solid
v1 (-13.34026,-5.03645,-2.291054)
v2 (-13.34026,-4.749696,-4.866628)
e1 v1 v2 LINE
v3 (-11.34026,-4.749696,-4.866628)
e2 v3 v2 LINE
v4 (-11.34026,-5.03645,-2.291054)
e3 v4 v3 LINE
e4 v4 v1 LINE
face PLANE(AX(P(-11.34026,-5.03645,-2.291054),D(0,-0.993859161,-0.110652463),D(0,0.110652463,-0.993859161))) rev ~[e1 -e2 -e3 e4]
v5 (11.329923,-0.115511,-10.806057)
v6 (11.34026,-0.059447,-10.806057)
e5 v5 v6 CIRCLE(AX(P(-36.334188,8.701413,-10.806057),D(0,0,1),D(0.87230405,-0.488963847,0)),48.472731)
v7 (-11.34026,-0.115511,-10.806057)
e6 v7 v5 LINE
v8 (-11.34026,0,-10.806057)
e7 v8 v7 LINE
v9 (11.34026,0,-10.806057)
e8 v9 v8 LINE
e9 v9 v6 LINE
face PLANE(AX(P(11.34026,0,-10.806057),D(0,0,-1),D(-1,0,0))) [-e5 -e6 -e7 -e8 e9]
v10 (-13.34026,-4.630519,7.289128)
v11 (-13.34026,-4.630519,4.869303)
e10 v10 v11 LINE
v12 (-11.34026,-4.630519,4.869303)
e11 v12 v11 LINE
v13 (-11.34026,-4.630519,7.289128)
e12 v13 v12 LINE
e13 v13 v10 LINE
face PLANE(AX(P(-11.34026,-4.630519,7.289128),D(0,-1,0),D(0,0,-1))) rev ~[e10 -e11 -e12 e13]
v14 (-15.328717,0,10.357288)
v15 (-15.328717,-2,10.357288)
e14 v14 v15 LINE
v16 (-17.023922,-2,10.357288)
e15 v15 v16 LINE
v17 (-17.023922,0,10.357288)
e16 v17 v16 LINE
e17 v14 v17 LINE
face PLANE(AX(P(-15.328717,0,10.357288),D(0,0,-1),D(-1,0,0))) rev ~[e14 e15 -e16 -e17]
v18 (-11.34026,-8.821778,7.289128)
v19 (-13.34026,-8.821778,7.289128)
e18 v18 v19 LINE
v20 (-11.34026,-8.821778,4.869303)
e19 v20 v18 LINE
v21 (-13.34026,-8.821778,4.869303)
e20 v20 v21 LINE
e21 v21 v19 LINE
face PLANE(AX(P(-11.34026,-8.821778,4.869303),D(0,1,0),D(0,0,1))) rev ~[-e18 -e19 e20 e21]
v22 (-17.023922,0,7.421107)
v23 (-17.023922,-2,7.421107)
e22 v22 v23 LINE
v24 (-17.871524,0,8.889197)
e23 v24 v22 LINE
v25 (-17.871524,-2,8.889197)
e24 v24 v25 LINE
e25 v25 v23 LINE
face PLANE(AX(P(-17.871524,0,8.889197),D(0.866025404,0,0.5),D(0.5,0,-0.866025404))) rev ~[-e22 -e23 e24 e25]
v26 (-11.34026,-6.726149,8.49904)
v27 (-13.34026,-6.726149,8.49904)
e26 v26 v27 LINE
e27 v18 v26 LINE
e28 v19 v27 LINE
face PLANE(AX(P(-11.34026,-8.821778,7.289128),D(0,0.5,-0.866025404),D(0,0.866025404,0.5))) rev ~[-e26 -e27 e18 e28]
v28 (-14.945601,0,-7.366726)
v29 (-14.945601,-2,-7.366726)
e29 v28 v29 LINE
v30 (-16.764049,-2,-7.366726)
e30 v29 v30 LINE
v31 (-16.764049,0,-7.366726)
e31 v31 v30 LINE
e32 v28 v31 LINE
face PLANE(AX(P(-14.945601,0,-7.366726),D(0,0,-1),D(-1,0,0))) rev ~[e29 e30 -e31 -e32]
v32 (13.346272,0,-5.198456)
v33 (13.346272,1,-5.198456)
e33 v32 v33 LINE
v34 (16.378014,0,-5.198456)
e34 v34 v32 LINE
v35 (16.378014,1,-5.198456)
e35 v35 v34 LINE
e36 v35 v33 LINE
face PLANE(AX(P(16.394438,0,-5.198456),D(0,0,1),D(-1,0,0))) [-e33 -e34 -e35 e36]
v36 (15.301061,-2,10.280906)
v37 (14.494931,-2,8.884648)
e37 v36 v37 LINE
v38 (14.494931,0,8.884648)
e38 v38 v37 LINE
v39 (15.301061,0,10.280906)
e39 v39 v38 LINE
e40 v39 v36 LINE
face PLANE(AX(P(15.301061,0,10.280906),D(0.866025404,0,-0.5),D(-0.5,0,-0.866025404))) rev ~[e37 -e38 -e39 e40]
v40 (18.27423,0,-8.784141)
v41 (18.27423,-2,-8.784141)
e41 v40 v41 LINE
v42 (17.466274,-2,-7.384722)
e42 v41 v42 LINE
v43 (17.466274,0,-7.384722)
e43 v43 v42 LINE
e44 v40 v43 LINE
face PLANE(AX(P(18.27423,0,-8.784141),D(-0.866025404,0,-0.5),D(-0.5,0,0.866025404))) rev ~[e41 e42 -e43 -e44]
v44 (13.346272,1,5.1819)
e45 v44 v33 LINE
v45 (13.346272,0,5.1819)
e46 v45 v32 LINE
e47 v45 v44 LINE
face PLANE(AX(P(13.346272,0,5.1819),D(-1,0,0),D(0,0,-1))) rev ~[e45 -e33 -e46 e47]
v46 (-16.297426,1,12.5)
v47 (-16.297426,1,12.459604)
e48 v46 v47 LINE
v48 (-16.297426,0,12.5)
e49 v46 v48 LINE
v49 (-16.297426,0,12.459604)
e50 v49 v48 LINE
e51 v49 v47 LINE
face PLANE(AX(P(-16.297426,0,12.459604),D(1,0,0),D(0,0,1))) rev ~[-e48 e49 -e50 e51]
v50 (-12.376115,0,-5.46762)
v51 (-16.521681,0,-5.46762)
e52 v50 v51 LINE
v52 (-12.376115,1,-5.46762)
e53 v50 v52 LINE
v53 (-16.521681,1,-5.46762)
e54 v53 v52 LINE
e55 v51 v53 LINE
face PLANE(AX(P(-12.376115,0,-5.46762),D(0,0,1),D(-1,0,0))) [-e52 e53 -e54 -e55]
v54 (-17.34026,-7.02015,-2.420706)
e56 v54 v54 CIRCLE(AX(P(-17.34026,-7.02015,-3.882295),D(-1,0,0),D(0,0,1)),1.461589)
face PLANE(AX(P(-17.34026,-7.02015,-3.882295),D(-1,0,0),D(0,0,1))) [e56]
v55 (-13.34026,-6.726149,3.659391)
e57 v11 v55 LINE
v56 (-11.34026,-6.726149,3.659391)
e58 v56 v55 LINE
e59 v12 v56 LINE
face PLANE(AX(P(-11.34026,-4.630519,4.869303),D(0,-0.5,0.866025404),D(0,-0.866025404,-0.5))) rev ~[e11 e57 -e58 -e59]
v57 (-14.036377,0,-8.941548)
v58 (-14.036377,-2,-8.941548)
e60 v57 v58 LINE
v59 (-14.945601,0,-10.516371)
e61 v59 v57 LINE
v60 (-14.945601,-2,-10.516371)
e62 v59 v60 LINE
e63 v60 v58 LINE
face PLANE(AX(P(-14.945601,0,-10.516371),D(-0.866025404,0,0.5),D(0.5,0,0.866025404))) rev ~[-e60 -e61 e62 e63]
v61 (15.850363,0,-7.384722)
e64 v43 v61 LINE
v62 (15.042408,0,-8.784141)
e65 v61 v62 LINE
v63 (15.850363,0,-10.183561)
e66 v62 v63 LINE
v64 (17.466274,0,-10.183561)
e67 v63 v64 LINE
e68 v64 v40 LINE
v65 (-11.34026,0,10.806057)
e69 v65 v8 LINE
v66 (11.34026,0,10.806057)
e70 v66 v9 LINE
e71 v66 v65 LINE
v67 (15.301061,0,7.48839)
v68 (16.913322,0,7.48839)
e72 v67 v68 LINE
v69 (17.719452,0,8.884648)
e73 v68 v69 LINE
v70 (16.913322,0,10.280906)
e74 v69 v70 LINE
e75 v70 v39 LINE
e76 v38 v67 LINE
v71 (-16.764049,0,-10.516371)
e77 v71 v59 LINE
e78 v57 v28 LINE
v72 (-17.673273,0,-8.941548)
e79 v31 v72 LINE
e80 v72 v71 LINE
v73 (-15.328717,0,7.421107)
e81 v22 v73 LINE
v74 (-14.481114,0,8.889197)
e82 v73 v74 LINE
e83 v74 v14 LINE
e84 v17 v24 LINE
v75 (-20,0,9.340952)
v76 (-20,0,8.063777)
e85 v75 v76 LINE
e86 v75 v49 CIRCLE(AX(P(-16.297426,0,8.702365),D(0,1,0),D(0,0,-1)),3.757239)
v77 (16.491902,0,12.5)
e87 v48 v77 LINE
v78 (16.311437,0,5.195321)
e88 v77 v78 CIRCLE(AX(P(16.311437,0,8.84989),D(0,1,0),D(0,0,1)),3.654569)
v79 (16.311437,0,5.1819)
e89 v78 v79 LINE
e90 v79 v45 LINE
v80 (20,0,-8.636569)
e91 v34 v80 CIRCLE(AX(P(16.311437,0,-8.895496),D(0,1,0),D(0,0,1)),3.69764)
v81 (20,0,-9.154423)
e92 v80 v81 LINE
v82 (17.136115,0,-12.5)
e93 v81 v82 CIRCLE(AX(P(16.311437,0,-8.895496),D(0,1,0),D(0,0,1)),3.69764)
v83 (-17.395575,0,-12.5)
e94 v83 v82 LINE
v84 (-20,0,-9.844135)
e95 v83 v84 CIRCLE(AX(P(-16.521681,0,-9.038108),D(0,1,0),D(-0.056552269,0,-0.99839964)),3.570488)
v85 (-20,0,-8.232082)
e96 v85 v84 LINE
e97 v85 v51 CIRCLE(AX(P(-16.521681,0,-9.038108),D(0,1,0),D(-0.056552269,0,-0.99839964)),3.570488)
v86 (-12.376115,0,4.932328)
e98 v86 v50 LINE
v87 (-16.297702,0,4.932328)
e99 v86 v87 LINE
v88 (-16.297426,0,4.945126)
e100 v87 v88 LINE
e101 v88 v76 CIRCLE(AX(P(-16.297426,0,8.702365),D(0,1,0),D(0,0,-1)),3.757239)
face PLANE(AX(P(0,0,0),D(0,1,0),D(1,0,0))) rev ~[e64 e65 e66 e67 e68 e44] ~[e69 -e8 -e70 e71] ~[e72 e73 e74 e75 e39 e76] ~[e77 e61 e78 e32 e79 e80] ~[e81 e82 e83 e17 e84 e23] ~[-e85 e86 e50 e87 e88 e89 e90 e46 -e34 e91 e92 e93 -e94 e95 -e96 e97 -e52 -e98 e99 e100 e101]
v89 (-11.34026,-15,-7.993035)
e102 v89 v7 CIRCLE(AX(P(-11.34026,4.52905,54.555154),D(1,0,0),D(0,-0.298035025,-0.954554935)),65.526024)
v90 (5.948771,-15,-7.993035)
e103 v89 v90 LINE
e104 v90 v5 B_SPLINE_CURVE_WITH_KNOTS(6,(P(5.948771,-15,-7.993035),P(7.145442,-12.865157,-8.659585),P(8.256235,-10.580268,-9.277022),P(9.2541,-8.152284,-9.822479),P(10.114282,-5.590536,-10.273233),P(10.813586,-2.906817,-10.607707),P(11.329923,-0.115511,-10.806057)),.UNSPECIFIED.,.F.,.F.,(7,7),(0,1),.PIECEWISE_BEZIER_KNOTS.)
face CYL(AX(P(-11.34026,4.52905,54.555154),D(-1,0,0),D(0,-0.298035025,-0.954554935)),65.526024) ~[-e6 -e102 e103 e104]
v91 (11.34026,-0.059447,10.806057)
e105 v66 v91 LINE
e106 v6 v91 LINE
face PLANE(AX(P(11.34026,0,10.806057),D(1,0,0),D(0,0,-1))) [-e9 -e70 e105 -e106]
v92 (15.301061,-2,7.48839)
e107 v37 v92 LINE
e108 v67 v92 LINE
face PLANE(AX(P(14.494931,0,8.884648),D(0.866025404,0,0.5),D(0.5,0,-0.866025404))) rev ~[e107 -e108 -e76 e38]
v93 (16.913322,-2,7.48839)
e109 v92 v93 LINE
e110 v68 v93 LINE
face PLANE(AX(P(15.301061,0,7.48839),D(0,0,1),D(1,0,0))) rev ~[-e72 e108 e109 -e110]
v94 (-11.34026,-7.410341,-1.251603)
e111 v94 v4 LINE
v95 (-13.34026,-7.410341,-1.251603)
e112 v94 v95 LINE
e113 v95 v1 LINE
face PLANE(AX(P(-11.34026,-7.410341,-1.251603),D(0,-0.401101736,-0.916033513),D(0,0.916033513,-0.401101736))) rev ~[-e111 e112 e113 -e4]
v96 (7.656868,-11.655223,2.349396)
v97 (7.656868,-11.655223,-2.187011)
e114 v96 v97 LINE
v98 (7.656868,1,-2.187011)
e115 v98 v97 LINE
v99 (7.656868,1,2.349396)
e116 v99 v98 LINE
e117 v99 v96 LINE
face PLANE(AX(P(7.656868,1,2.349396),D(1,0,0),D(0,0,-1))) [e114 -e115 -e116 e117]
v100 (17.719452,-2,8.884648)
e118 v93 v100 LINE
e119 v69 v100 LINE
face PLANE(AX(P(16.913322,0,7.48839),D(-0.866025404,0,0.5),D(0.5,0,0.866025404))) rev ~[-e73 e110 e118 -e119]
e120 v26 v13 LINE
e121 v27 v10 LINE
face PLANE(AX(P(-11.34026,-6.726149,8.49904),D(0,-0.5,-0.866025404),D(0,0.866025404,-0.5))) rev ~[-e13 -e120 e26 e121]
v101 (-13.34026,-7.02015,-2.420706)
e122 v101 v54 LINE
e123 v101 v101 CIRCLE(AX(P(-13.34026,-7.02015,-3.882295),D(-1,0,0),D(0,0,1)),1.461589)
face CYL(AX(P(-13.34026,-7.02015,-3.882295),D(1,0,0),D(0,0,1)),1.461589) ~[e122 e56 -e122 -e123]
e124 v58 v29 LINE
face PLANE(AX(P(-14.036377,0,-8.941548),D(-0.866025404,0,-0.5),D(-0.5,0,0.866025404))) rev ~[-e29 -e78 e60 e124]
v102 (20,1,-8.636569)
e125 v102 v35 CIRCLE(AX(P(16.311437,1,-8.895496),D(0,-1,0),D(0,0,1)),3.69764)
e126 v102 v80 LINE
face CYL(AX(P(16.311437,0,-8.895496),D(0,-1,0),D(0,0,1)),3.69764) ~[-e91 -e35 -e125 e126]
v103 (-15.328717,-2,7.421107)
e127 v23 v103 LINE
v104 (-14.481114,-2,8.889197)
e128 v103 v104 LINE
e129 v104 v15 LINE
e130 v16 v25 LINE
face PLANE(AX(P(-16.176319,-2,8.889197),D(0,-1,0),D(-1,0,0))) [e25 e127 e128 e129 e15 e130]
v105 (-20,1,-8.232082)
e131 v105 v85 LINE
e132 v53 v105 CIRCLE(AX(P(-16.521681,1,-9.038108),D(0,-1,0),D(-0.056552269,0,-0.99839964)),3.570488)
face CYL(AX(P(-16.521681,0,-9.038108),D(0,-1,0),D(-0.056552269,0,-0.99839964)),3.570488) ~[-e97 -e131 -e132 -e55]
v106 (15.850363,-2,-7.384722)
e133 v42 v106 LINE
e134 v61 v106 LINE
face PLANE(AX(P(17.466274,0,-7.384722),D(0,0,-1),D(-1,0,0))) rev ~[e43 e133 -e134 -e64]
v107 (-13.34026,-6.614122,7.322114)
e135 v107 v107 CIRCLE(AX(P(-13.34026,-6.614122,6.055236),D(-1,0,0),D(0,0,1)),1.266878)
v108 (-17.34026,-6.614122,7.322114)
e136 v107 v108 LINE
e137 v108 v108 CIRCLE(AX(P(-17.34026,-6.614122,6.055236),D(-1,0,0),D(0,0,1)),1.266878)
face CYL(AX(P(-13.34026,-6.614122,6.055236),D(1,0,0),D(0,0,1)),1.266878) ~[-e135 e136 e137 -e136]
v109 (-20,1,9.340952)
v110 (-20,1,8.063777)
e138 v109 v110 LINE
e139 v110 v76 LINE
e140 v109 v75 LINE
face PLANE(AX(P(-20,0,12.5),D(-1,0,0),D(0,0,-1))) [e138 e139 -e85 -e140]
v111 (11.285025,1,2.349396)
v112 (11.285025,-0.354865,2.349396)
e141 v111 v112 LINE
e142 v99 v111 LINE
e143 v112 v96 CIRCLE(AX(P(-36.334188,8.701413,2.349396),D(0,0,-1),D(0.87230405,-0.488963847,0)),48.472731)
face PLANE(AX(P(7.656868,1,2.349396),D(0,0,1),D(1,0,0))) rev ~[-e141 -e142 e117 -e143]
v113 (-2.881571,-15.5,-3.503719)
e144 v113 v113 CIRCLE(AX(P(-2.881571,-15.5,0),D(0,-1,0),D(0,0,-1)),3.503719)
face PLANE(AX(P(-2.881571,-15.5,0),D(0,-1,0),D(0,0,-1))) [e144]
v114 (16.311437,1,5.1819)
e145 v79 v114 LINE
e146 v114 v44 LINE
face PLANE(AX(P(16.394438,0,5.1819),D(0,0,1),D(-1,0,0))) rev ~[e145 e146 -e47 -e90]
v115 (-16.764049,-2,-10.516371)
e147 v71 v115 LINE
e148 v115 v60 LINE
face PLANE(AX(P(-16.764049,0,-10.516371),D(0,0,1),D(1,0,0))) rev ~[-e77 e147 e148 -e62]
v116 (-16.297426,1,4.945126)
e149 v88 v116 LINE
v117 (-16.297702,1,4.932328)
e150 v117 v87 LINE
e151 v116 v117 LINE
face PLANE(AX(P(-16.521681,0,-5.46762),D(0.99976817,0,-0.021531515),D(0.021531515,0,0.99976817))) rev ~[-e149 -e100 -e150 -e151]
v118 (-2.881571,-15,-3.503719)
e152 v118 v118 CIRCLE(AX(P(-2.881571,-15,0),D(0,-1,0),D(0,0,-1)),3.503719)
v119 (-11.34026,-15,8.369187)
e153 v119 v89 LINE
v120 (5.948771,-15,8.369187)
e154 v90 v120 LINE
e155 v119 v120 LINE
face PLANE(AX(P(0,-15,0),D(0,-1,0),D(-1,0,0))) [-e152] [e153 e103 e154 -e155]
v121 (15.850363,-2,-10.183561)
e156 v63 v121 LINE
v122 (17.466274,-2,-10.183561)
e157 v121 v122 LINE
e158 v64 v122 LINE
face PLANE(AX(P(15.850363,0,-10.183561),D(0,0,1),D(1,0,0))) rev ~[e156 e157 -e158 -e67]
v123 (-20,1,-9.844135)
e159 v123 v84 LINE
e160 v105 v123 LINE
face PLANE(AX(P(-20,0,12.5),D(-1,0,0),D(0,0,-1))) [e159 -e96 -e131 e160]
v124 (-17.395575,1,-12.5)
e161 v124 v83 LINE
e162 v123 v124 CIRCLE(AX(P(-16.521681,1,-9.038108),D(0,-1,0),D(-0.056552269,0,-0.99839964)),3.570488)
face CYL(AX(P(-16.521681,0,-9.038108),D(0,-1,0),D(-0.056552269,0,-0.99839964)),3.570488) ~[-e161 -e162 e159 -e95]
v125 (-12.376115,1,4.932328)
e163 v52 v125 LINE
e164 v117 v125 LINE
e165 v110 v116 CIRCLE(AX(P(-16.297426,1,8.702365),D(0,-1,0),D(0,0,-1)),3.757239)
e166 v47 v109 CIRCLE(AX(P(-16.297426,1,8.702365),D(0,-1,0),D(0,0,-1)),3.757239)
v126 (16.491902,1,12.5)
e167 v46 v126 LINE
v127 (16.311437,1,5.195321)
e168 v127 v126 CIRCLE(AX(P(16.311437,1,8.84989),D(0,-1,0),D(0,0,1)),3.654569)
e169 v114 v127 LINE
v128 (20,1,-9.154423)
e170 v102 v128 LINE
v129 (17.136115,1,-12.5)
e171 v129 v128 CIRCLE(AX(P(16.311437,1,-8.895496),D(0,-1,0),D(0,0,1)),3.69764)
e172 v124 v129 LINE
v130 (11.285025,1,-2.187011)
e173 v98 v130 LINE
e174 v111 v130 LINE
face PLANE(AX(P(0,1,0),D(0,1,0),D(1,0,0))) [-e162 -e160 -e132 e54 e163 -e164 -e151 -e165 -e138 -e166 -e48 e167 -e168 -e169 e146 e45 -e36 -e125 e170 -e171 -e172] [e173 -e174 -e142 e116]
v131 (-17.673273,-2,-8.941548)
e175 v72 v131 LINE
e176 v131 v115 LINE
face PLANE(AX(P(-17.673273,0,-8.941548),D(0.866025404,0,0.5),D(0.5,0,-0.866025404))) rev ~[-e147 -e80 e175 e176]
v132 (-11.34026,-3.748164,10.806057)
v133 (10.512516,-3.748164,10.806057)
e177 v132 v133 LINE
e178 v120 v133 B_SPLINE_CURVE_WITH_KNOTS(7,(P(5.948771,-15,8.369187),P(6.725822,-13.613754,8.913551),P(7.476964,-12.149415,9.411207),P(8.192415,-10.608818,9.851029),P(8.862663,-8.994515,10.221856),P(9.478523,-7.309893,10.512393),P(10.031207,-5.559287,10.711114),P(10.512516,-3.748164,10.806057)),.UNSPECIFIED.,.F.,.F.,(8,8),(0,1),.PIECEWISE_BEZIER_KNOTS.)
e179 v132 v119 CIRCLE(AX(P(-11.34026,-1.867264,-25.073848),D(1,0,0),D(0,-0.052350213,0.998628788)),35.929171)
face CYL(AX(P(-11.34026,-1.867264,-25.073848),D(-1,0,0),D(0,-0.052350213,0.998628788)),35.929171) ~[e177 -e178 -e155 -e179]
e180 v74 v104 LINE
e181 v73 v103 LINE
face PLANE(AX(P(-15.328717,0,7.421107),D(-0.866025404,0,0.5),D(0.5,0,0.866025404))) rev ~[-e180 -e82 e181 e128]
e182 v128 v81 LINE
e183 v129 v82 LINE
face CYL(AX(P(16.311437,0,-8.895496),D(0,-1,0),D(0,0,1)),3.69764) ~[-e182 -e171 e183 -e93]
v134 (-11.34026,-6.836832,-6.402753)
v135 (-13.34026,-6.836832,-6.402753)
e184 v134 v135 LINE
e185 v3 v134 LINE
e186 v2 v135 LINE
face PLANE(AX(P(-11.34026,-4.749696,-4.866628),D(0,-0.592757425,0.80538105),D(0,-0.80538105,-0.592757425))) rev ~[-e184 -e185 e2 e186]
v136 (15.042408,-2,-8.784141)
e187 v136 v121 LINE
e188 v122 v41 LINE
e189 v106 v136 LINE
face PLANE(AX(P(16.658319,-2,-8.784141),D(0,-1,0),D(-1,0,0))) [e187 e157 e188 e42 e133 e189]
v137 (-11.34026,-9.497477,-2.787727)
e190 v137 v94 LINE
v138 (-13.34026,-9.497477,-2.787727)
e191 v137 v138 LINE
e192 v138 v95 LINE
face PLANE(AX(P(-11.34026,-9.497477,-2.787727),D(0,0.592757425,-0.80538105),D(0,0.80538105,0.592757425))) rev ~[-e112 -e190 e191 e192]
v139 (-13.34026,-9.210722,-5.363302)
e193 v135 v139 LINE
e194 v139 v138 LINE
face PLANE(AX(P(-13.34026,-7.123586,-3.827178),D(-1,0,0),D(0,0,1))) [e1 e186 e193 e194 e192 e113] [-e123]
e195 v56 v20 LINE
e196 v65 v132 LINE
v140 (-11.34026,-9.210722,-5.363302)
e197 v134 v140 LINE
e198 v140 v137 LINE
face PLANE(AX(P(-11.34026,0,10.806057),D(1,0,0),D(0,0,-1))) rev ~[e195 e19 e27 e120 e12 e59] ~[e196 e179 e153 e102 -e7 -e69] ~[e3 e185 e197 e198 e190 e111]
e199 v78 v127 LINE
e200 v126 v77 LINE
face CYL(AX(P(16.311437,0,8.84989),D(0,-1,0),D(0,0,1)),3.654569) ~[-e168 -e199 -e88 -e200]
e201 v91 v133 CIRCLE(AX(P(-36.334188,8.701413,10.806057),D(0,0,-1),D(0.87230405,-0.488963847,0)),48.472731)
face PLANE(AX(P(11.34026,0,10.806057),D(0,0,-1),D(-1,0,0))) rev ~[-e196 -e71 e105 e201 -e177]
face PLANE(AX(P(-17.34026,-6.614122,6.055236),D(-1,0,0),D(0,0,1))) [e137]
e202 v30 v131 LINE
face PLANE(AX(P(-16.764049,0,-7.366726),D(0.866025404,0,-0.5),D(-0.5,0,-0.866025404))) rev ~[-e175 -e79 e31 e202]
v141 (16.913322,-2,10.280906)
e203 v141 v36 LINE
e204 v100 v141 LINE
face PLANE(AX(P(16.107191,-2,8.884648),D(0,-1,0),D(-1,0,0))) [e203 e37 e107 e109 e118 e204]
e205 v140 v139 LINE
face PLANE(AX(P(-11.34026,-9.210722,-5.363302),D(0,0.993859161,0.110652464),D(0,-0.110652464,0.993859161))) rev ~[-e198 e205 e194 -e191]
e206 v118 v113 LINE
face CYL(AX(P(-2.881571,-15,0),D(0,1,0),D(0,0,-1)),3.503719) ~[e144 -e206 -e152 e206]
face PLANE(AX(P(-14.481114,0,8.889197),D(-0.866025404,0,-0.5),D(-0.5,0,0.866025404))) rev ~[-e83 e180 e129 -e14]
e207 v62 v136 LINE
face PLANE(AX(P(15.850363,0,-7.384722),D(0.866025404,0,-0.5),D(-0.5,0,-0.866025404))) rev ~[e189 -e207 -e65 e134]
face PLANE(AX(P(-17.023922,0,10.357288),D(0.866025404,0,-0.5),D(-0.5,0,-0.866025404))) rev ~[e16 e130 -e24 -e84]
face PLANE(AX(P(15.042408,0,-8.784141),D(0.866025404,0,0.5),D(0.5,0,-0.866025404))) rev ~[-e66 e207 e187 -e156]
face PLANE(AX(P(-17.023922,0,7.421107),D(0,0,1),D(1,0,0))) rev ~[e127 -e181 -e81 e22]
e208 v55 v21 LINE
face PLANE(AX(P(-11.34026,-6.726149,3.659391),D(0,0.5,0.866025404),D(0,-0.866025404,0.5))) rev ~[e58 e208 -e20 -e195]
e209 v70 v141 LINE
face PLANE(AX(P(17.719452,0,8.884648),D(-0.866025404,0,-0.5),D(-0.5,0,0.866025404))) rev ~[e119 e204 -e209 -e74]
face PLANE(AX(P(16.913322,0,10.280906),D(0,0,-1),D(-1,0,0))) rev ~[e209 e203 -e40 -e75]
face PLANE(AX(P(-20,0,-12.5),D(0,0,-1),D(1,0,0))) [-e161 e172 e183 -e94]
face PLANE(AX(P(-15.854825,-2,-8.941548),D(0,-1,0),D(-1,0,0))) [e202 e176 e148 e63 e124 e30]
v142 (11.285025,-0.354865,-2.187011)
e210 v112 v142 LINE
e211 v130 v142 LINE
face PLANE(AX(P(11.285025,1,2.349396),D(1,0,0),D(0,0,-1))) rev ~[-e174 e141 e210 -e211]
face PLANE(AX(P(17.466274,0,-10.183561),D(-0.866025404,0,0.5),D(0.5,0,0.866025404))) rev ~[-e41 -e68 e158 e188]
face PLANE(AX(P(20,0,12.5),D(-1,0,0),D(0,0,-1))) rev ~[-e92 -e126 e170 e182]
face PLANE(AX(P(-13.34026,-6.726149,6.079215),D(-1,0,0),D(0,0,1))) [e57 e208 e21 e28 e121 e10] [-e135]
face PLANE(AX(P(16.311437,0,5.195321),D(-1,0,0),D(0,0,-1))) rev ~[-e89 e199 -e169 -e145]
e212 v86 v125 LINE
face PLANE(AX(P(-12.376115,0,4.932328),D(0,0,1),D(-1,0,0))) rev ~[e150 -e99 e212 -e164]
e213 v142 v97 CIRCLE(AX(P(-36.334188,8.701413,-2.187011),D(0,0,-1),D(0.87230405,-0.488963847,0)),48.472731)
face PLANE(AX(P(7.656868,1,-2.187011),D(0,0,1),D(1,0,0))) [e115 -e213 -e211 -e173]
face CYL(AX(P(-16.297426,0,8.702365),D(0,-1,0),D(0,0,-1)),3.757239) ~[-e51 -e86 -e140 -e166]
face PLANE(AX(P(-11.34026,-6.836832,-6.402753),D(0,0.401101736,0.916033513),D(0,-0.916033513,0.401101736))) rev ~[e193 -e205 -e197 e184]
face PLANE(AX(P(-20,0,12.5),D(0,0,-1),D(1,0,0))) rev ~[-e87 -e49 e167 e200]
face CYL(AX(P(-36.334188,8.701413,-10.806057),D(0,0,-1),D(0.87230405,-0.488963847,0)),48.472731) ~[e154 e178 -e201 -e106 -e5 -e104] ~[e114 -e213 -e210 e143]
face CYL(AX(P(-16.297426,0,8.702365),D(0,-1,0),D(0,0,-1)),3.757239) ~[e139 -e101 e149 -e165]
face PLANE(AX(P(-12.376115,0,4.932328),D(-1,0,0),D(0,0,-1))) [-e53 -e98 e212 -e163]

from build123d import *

# Parameters (mm, degrees)
SKETCH2_W            = 40
SKETCH2_H            = 25
BOSS_EXTRUDE2_DEPTH  = 1
CUT_EXTRUDE1_DEPTH   = 24.606143268
SKETCH5_W            = 3.048166118
SKETCH5_H            = 10.380355358
CUT_EXTRUDE4_DEPTH   = 1
CUT_EXTRUDE5_DEPTH   = 24.606143268
SKETCH7_W            = 4.145565418
SKETCH7_H            = 10.399948371
CUT_EXTRUDE7_DEPTH   = 24.606143268
SKETCH8_W            = 22.680519054
SKETCH8_H            = 21.612113122
BOSS_EXTRUDE3_DEPTH  = 15
CUT_EXTRUDE8_DEPTH   = 30
CUT_EXTRUDE9_DEPTH   = 30
CUT_EXTRUDE10_DEPTH  = 30
SKETCH12_W           = 3.628157273
SKETCH12_H           = 4.536406583
CUT_EXTRUDE11_DEPTH  = 29.500000056
BOSS_EXTRUDE4_DEPTH  = 2
BOSS_EXTRUDE5_DEPTH  = 2
BOSS_EXTRUDE6_DEPTH  = 2
BOSS_EXTRUDE7_DEPTH  = 2
SKETCH17_R           = 3.503719222
BOSS_EXTRUDE8_DEPTH  = 0.5
BOSS_EXTRUDE9_DEPTH  = 2
BOSS_EXTRUDE10_DEPTH = 2
SKETCH20_R           = 1.26687785
BOSS_EXTRUDE11_DEPTH = 4
SKETCH21_R           = 1.46158904
BOSS_EXTRUDE12_DEPTH = 4


with BuildPart() as part:
    # Sketch2 → Boss-Extrude2 (new body)
    with BuildSketch(Plane(origin=(0, 0, 0), x_dir=(1, 0, 0), z_dir=(0, 1, 0))):
        Rectangle(SKETCH2_W, SKETCH2_H)
    extrude(amount=BOSS_EXTRUDE2_DEPTH)

    # Sketch4 → Cut-Extrude1 (cut, through all)
    with BuildSketch(Plane(origin=(0, 0, 0), x_dir=(-1, 0, 0), z_dir=(0, -1, 0))):
        with BuildLine():
            Line((-16.311436799, -5.195321305), (-16.311436799, 5.197856111))
            ThreePointArc((-16.311436799, 5.197856111), (-20.005849228, 9.049958295), (-16.002782134, 12.580231412))
            Line((-16.002782134, 12.580231412), (-16.034433084, 14.57463247))
            Line((-16.034433084, 14.57463247), (-22.167227524, 14.47730562))
            Line((-22.167227524, 14.47730562), (-21.947479334, -14.537250164))
            Line((-21.947479334, -14.537250164), (-16.200353352, -14.798286616))
            Line((-16.200353352, -14.798286616), (-16.311436799, -12.504458481))
            ThreePointArc((-16.311436799, -12.504458481), (-19.966005387, -8.849889893), (-16.311436799, -5.195321305))
        make_face()
    extrude(amount=-CUT_EXTRUDE1_DEPTH, mode=Mode.SUBTRACT)

    # Sketch5 → Cut-Extrude4 (cut)
    with BuildSketch(Plane(origin=(0, 0, 0), x_dir=(-1, 0, 0), z_dir=(0, -1, 0))):
        with Locations((-14.87035518, 0.008277846)):
            Rectangle(SKETCH5_W, SKETCH5_H)
    extrude(amount=-CUT_EXTRUDE4_DEPTH, mode=Mode.SUBTRACT)

    # Sketch6 → Cut-Extrude5 (cut, through all)
    with BuildSketch(Plane(origin=(0, 0, 0), x_dir=(-1, 0, 0), z_dir=(0, -1, 0))):
        with BuildLine():
            Line((16.521680561, 5.46762026), (16.29742638, -4.945125741))
            ThreePointArc((16.29742638, -4.945125741), (20.054665472, -8.702364833), (16.29742638, -12.459603925))
            Line((16.29742638, -12.459603925), (16.29742638, -15.143532095))
            Line((16.29742638, -15.143532095), (29.009035652, -15.661685945))
            Line((29.009035652, -15.661685945), (29.009035652, -13.80156801))
            Line((29.009035652, -13.80156801), (27.951962111, 14.649001906))
            Line((27.951962111, 14.649001906), (18.760629252, 18.072251543))
            Line((18.760629252, 18.072251543), (16.723599762, 12.602882354))
            ThreePointArc((16.723599762, 12.602882354), (20.090739839, 8.937108322), (16.521680561, 5.46762026))
        make_face()
    extrude(amount=-CUT_EXTRUDE5_DEPTH, mode=Mode.SUBTRACT)

    # Sketch7 → Cut-Extrude7 (cut, through all)
    with BuildSketch(Plane(origin=(0, 0, 0), x_dir=(-1, 0, 0), z_dir=(0, -1, 0))):
        with Locations((14.448897852, 0.267646074)):
            Rectangle(SKETCH7_W, SKETCH7_H)
    extrude(amount=-CUT_EXTRUDE7_DEPTH, mode=Mode.SUBTRACT)

    # Sketch8 → Boss-Extrude3 (add)
    with BuildSketch(Plane(origin=(0, 0, 0), x_dir=(-1, 0, 0), z_dir=(0, -1, 0))):
        Rectangle(SKETCH8_W, SKETCH8_H)
    extrude(amount=BOSS_EXTRUDE3_DEPTH)

    # Sketch9 → Cut-Extrude8 (cut)
    with BuildSketch(Plane(origin=(0, 0, -10.806056561), x_dir=(-1, 0, 0), z_dir=(0, 0, -1))):
        with BuildLine():
            Line((-11.340259527, -15), (-5.948771171, -15))
            ThreePointArc((-5.948771171, -15), (-9.260644908, -7.752061524), (-11.340259527, -0.059446699))
            Line((-11.340259527, -0.059446699), (-11.340259527, -15))
        make_face()
    extrude(amount=-CUT_EXTRUDE8_DEPTH, mode=Mode.SUBTRACT)

    # Sketch10 → Cut-Extrude9 (cut)
    with BuildSketch(Plane.ZY.offset(11.340259527)):
        with BuildLine():
            Line((-10.806056561, -15), (-7.993035408, -15))
            ThreePointArc((-7.993035408, -15), (-9.83110735, -7.639316506), (-10.806056561, -0.115511352))
            Line((-10.806056561, -0.115511352), (-10.806056561, -15))
        make_face()
    extrude(amount=-CUT_EXTRUDE9_DEPTH, mode=Mode.SUBTRACT)

    # Sketch11 → Cut-Extrude10 (cut)
    with BuildSketch(Plane.ZY.offset(11.340259527)):
        with BuildLine():
            ThreePointArc((10.806056561, -3.748163783), (10.041226218, -9.472321419), (8.369186868, -15))
            Line((8.369186868, -15), (10.806056561, -15))
            Line((10.806056561, -15), (10.806056561, -3.748163783))
        make_face()
    extrude(amount=-CUT_EXTRUDE10_DEPTH, mode=Mode.SUBTRACT)

    # Sketch12 → Cut-Extrude11 (cut, through all)
    with BuildSketch(Plane(origin=(0, 1, 0), x_dir=(1, 0, 0), z_dir=(0, 1, 0))):
        with Locations((9.470946216, -0.081192325)):
            Rectangle(SKETCH12_W, SKETCH12_H)
    extrude(amount=-CUT_EXTRUDE11_DEPTH, mode=Mode.SUBTRACT)

    # Sketch13 → Boss-Extrude4 (add)
    with BuildSketch(Plane(origin=(0, 0, 0), x_dir=(-1, 0, 0), z_dir=(0, -1, 0))):
        Polygon((-14.494931401, -8.884648292), (-15.301061446, -7.488390096), (-16.913321537, -7.488390096), (-17.719451582, -8.884648292), (-16.913321537, -10.280906489), (-15.301061446, -10.280906489), align=None)
    extrude(amount=BOSS_EXTRUDE4_DEPTH)

    # Sketch14 → Boss-Extrude5 (add)
    with BuildSketch(Plane(origin=(0, 0, 0), x_dir=(-1, 0, 0), z_dir=(0, -1, 0))):
        Polygon((-15.042408021, 8.784141367), (-15.850363425, 10.183561177), (-17.466274234, 10.183561177), (-18.274229638, 8.784141367), (-17.466274234, 7.384721557), (-15.850363425, 7.384721557), align=None)
    extrude(amount=BOSS_EXTRUDE5_DEPTH)

    # Sketch15 → Boss-Extrude6 (add)
    with BuildSketch(Plane(origin=(0, 0, 0), x_dir=(-1, 0, 0), z_dir=(0, -1, 0))):
        Polygon((17.871524181, -8.889197459), (17.023921653, -7.421106816), (15.328716596, -7.421106816), (14.481114068, -8.889197459), (15.328716596, -10.357288103), (17.023921653, -10.357288103), align=None)
    extrude(amount=BOSS_EXTRUDE6_DEPTH)

    # Sketch16 → Boss-Extrude7 (add)
    with BuildSketch(Plane(origin=(0, 0, 0), x_dir=(-1, 0, 0), z_dir=(0, -1, 0))):
        Polygon((17.673273489, 8.94154839), (16.76404939, 10.516370724), (14.945601192, 10.516370724), (14.036377093, 8.94154839), (14.945601192, 7.366726055), (16.76404939, 7.366726055), align=None)
    extrude(amount=BOSS_EXTRUDE7_DEPTH)

    # Sketch17 → Boss-Extrude8 (add)
    with BuildSketch(Plane(origin=(0, -15, 0), x_dir=(-1, 0, 0), z_dir=(0, -1, 0))):
        with Locations(Location((2.881571025, 0, 0), (0, 0, 90))):
            Circle(SKETCH17_R)
    extrude(amount=BOSS_EXTRUDE8_DEPTH)

    # Sketch18 → Boss-Extrude9 (add)
    with BuildSketch(Plane.ZY.offset(11.340259527)):
        Polygon((3.659390597, -6.726148666), (4.869302964, -8.821778359), (7.2891277, -8.821778359), (8.499040067, -6.726148666), (7.2891277, -4.630518972), (4.869302964, -4.630518972), align=None)
    extrude(amount=BOSS_EXTRUDE9_DEPTH)

    # Sketch19 → Boss-Extrude10 (add)
    with BuildSketch(Plane.ZY.offset(11.340259527)):
        Polygon((-6.402752553, -6.836831629), (-5.363301958, -9.210722079), (-2.787727224, -9.497476683), (-1.251603086, -7.410340836), (-2.291053681, -5.036450385), (-4.866628415, -4.749695782), align=None)
    extrude(amount=BOSS_EXTRUDE10_DEPTH)

    # Sketch20 → Boss-Extrude11 (add)
    with BuildSketch(Plane.ZY.offset(13.340259527)):
        with Locations((6.055236467, -6.614121956)):
            Circle(SKETCH20_R)
    extrude(amount=BOSS_EXTRUDE11_DEPTH)

    # Sketch21 → Boss-Extrude12 (add)
    with BuildSketch(Plane.ZY.offset(13.340259527)):
        with Locations((-3.88229524, -7.020150319)):
            Circle(SKETCH21_R)
    extrude(amount=BOSS_EXTRUDE12_DEPTH)


solid = part.part
